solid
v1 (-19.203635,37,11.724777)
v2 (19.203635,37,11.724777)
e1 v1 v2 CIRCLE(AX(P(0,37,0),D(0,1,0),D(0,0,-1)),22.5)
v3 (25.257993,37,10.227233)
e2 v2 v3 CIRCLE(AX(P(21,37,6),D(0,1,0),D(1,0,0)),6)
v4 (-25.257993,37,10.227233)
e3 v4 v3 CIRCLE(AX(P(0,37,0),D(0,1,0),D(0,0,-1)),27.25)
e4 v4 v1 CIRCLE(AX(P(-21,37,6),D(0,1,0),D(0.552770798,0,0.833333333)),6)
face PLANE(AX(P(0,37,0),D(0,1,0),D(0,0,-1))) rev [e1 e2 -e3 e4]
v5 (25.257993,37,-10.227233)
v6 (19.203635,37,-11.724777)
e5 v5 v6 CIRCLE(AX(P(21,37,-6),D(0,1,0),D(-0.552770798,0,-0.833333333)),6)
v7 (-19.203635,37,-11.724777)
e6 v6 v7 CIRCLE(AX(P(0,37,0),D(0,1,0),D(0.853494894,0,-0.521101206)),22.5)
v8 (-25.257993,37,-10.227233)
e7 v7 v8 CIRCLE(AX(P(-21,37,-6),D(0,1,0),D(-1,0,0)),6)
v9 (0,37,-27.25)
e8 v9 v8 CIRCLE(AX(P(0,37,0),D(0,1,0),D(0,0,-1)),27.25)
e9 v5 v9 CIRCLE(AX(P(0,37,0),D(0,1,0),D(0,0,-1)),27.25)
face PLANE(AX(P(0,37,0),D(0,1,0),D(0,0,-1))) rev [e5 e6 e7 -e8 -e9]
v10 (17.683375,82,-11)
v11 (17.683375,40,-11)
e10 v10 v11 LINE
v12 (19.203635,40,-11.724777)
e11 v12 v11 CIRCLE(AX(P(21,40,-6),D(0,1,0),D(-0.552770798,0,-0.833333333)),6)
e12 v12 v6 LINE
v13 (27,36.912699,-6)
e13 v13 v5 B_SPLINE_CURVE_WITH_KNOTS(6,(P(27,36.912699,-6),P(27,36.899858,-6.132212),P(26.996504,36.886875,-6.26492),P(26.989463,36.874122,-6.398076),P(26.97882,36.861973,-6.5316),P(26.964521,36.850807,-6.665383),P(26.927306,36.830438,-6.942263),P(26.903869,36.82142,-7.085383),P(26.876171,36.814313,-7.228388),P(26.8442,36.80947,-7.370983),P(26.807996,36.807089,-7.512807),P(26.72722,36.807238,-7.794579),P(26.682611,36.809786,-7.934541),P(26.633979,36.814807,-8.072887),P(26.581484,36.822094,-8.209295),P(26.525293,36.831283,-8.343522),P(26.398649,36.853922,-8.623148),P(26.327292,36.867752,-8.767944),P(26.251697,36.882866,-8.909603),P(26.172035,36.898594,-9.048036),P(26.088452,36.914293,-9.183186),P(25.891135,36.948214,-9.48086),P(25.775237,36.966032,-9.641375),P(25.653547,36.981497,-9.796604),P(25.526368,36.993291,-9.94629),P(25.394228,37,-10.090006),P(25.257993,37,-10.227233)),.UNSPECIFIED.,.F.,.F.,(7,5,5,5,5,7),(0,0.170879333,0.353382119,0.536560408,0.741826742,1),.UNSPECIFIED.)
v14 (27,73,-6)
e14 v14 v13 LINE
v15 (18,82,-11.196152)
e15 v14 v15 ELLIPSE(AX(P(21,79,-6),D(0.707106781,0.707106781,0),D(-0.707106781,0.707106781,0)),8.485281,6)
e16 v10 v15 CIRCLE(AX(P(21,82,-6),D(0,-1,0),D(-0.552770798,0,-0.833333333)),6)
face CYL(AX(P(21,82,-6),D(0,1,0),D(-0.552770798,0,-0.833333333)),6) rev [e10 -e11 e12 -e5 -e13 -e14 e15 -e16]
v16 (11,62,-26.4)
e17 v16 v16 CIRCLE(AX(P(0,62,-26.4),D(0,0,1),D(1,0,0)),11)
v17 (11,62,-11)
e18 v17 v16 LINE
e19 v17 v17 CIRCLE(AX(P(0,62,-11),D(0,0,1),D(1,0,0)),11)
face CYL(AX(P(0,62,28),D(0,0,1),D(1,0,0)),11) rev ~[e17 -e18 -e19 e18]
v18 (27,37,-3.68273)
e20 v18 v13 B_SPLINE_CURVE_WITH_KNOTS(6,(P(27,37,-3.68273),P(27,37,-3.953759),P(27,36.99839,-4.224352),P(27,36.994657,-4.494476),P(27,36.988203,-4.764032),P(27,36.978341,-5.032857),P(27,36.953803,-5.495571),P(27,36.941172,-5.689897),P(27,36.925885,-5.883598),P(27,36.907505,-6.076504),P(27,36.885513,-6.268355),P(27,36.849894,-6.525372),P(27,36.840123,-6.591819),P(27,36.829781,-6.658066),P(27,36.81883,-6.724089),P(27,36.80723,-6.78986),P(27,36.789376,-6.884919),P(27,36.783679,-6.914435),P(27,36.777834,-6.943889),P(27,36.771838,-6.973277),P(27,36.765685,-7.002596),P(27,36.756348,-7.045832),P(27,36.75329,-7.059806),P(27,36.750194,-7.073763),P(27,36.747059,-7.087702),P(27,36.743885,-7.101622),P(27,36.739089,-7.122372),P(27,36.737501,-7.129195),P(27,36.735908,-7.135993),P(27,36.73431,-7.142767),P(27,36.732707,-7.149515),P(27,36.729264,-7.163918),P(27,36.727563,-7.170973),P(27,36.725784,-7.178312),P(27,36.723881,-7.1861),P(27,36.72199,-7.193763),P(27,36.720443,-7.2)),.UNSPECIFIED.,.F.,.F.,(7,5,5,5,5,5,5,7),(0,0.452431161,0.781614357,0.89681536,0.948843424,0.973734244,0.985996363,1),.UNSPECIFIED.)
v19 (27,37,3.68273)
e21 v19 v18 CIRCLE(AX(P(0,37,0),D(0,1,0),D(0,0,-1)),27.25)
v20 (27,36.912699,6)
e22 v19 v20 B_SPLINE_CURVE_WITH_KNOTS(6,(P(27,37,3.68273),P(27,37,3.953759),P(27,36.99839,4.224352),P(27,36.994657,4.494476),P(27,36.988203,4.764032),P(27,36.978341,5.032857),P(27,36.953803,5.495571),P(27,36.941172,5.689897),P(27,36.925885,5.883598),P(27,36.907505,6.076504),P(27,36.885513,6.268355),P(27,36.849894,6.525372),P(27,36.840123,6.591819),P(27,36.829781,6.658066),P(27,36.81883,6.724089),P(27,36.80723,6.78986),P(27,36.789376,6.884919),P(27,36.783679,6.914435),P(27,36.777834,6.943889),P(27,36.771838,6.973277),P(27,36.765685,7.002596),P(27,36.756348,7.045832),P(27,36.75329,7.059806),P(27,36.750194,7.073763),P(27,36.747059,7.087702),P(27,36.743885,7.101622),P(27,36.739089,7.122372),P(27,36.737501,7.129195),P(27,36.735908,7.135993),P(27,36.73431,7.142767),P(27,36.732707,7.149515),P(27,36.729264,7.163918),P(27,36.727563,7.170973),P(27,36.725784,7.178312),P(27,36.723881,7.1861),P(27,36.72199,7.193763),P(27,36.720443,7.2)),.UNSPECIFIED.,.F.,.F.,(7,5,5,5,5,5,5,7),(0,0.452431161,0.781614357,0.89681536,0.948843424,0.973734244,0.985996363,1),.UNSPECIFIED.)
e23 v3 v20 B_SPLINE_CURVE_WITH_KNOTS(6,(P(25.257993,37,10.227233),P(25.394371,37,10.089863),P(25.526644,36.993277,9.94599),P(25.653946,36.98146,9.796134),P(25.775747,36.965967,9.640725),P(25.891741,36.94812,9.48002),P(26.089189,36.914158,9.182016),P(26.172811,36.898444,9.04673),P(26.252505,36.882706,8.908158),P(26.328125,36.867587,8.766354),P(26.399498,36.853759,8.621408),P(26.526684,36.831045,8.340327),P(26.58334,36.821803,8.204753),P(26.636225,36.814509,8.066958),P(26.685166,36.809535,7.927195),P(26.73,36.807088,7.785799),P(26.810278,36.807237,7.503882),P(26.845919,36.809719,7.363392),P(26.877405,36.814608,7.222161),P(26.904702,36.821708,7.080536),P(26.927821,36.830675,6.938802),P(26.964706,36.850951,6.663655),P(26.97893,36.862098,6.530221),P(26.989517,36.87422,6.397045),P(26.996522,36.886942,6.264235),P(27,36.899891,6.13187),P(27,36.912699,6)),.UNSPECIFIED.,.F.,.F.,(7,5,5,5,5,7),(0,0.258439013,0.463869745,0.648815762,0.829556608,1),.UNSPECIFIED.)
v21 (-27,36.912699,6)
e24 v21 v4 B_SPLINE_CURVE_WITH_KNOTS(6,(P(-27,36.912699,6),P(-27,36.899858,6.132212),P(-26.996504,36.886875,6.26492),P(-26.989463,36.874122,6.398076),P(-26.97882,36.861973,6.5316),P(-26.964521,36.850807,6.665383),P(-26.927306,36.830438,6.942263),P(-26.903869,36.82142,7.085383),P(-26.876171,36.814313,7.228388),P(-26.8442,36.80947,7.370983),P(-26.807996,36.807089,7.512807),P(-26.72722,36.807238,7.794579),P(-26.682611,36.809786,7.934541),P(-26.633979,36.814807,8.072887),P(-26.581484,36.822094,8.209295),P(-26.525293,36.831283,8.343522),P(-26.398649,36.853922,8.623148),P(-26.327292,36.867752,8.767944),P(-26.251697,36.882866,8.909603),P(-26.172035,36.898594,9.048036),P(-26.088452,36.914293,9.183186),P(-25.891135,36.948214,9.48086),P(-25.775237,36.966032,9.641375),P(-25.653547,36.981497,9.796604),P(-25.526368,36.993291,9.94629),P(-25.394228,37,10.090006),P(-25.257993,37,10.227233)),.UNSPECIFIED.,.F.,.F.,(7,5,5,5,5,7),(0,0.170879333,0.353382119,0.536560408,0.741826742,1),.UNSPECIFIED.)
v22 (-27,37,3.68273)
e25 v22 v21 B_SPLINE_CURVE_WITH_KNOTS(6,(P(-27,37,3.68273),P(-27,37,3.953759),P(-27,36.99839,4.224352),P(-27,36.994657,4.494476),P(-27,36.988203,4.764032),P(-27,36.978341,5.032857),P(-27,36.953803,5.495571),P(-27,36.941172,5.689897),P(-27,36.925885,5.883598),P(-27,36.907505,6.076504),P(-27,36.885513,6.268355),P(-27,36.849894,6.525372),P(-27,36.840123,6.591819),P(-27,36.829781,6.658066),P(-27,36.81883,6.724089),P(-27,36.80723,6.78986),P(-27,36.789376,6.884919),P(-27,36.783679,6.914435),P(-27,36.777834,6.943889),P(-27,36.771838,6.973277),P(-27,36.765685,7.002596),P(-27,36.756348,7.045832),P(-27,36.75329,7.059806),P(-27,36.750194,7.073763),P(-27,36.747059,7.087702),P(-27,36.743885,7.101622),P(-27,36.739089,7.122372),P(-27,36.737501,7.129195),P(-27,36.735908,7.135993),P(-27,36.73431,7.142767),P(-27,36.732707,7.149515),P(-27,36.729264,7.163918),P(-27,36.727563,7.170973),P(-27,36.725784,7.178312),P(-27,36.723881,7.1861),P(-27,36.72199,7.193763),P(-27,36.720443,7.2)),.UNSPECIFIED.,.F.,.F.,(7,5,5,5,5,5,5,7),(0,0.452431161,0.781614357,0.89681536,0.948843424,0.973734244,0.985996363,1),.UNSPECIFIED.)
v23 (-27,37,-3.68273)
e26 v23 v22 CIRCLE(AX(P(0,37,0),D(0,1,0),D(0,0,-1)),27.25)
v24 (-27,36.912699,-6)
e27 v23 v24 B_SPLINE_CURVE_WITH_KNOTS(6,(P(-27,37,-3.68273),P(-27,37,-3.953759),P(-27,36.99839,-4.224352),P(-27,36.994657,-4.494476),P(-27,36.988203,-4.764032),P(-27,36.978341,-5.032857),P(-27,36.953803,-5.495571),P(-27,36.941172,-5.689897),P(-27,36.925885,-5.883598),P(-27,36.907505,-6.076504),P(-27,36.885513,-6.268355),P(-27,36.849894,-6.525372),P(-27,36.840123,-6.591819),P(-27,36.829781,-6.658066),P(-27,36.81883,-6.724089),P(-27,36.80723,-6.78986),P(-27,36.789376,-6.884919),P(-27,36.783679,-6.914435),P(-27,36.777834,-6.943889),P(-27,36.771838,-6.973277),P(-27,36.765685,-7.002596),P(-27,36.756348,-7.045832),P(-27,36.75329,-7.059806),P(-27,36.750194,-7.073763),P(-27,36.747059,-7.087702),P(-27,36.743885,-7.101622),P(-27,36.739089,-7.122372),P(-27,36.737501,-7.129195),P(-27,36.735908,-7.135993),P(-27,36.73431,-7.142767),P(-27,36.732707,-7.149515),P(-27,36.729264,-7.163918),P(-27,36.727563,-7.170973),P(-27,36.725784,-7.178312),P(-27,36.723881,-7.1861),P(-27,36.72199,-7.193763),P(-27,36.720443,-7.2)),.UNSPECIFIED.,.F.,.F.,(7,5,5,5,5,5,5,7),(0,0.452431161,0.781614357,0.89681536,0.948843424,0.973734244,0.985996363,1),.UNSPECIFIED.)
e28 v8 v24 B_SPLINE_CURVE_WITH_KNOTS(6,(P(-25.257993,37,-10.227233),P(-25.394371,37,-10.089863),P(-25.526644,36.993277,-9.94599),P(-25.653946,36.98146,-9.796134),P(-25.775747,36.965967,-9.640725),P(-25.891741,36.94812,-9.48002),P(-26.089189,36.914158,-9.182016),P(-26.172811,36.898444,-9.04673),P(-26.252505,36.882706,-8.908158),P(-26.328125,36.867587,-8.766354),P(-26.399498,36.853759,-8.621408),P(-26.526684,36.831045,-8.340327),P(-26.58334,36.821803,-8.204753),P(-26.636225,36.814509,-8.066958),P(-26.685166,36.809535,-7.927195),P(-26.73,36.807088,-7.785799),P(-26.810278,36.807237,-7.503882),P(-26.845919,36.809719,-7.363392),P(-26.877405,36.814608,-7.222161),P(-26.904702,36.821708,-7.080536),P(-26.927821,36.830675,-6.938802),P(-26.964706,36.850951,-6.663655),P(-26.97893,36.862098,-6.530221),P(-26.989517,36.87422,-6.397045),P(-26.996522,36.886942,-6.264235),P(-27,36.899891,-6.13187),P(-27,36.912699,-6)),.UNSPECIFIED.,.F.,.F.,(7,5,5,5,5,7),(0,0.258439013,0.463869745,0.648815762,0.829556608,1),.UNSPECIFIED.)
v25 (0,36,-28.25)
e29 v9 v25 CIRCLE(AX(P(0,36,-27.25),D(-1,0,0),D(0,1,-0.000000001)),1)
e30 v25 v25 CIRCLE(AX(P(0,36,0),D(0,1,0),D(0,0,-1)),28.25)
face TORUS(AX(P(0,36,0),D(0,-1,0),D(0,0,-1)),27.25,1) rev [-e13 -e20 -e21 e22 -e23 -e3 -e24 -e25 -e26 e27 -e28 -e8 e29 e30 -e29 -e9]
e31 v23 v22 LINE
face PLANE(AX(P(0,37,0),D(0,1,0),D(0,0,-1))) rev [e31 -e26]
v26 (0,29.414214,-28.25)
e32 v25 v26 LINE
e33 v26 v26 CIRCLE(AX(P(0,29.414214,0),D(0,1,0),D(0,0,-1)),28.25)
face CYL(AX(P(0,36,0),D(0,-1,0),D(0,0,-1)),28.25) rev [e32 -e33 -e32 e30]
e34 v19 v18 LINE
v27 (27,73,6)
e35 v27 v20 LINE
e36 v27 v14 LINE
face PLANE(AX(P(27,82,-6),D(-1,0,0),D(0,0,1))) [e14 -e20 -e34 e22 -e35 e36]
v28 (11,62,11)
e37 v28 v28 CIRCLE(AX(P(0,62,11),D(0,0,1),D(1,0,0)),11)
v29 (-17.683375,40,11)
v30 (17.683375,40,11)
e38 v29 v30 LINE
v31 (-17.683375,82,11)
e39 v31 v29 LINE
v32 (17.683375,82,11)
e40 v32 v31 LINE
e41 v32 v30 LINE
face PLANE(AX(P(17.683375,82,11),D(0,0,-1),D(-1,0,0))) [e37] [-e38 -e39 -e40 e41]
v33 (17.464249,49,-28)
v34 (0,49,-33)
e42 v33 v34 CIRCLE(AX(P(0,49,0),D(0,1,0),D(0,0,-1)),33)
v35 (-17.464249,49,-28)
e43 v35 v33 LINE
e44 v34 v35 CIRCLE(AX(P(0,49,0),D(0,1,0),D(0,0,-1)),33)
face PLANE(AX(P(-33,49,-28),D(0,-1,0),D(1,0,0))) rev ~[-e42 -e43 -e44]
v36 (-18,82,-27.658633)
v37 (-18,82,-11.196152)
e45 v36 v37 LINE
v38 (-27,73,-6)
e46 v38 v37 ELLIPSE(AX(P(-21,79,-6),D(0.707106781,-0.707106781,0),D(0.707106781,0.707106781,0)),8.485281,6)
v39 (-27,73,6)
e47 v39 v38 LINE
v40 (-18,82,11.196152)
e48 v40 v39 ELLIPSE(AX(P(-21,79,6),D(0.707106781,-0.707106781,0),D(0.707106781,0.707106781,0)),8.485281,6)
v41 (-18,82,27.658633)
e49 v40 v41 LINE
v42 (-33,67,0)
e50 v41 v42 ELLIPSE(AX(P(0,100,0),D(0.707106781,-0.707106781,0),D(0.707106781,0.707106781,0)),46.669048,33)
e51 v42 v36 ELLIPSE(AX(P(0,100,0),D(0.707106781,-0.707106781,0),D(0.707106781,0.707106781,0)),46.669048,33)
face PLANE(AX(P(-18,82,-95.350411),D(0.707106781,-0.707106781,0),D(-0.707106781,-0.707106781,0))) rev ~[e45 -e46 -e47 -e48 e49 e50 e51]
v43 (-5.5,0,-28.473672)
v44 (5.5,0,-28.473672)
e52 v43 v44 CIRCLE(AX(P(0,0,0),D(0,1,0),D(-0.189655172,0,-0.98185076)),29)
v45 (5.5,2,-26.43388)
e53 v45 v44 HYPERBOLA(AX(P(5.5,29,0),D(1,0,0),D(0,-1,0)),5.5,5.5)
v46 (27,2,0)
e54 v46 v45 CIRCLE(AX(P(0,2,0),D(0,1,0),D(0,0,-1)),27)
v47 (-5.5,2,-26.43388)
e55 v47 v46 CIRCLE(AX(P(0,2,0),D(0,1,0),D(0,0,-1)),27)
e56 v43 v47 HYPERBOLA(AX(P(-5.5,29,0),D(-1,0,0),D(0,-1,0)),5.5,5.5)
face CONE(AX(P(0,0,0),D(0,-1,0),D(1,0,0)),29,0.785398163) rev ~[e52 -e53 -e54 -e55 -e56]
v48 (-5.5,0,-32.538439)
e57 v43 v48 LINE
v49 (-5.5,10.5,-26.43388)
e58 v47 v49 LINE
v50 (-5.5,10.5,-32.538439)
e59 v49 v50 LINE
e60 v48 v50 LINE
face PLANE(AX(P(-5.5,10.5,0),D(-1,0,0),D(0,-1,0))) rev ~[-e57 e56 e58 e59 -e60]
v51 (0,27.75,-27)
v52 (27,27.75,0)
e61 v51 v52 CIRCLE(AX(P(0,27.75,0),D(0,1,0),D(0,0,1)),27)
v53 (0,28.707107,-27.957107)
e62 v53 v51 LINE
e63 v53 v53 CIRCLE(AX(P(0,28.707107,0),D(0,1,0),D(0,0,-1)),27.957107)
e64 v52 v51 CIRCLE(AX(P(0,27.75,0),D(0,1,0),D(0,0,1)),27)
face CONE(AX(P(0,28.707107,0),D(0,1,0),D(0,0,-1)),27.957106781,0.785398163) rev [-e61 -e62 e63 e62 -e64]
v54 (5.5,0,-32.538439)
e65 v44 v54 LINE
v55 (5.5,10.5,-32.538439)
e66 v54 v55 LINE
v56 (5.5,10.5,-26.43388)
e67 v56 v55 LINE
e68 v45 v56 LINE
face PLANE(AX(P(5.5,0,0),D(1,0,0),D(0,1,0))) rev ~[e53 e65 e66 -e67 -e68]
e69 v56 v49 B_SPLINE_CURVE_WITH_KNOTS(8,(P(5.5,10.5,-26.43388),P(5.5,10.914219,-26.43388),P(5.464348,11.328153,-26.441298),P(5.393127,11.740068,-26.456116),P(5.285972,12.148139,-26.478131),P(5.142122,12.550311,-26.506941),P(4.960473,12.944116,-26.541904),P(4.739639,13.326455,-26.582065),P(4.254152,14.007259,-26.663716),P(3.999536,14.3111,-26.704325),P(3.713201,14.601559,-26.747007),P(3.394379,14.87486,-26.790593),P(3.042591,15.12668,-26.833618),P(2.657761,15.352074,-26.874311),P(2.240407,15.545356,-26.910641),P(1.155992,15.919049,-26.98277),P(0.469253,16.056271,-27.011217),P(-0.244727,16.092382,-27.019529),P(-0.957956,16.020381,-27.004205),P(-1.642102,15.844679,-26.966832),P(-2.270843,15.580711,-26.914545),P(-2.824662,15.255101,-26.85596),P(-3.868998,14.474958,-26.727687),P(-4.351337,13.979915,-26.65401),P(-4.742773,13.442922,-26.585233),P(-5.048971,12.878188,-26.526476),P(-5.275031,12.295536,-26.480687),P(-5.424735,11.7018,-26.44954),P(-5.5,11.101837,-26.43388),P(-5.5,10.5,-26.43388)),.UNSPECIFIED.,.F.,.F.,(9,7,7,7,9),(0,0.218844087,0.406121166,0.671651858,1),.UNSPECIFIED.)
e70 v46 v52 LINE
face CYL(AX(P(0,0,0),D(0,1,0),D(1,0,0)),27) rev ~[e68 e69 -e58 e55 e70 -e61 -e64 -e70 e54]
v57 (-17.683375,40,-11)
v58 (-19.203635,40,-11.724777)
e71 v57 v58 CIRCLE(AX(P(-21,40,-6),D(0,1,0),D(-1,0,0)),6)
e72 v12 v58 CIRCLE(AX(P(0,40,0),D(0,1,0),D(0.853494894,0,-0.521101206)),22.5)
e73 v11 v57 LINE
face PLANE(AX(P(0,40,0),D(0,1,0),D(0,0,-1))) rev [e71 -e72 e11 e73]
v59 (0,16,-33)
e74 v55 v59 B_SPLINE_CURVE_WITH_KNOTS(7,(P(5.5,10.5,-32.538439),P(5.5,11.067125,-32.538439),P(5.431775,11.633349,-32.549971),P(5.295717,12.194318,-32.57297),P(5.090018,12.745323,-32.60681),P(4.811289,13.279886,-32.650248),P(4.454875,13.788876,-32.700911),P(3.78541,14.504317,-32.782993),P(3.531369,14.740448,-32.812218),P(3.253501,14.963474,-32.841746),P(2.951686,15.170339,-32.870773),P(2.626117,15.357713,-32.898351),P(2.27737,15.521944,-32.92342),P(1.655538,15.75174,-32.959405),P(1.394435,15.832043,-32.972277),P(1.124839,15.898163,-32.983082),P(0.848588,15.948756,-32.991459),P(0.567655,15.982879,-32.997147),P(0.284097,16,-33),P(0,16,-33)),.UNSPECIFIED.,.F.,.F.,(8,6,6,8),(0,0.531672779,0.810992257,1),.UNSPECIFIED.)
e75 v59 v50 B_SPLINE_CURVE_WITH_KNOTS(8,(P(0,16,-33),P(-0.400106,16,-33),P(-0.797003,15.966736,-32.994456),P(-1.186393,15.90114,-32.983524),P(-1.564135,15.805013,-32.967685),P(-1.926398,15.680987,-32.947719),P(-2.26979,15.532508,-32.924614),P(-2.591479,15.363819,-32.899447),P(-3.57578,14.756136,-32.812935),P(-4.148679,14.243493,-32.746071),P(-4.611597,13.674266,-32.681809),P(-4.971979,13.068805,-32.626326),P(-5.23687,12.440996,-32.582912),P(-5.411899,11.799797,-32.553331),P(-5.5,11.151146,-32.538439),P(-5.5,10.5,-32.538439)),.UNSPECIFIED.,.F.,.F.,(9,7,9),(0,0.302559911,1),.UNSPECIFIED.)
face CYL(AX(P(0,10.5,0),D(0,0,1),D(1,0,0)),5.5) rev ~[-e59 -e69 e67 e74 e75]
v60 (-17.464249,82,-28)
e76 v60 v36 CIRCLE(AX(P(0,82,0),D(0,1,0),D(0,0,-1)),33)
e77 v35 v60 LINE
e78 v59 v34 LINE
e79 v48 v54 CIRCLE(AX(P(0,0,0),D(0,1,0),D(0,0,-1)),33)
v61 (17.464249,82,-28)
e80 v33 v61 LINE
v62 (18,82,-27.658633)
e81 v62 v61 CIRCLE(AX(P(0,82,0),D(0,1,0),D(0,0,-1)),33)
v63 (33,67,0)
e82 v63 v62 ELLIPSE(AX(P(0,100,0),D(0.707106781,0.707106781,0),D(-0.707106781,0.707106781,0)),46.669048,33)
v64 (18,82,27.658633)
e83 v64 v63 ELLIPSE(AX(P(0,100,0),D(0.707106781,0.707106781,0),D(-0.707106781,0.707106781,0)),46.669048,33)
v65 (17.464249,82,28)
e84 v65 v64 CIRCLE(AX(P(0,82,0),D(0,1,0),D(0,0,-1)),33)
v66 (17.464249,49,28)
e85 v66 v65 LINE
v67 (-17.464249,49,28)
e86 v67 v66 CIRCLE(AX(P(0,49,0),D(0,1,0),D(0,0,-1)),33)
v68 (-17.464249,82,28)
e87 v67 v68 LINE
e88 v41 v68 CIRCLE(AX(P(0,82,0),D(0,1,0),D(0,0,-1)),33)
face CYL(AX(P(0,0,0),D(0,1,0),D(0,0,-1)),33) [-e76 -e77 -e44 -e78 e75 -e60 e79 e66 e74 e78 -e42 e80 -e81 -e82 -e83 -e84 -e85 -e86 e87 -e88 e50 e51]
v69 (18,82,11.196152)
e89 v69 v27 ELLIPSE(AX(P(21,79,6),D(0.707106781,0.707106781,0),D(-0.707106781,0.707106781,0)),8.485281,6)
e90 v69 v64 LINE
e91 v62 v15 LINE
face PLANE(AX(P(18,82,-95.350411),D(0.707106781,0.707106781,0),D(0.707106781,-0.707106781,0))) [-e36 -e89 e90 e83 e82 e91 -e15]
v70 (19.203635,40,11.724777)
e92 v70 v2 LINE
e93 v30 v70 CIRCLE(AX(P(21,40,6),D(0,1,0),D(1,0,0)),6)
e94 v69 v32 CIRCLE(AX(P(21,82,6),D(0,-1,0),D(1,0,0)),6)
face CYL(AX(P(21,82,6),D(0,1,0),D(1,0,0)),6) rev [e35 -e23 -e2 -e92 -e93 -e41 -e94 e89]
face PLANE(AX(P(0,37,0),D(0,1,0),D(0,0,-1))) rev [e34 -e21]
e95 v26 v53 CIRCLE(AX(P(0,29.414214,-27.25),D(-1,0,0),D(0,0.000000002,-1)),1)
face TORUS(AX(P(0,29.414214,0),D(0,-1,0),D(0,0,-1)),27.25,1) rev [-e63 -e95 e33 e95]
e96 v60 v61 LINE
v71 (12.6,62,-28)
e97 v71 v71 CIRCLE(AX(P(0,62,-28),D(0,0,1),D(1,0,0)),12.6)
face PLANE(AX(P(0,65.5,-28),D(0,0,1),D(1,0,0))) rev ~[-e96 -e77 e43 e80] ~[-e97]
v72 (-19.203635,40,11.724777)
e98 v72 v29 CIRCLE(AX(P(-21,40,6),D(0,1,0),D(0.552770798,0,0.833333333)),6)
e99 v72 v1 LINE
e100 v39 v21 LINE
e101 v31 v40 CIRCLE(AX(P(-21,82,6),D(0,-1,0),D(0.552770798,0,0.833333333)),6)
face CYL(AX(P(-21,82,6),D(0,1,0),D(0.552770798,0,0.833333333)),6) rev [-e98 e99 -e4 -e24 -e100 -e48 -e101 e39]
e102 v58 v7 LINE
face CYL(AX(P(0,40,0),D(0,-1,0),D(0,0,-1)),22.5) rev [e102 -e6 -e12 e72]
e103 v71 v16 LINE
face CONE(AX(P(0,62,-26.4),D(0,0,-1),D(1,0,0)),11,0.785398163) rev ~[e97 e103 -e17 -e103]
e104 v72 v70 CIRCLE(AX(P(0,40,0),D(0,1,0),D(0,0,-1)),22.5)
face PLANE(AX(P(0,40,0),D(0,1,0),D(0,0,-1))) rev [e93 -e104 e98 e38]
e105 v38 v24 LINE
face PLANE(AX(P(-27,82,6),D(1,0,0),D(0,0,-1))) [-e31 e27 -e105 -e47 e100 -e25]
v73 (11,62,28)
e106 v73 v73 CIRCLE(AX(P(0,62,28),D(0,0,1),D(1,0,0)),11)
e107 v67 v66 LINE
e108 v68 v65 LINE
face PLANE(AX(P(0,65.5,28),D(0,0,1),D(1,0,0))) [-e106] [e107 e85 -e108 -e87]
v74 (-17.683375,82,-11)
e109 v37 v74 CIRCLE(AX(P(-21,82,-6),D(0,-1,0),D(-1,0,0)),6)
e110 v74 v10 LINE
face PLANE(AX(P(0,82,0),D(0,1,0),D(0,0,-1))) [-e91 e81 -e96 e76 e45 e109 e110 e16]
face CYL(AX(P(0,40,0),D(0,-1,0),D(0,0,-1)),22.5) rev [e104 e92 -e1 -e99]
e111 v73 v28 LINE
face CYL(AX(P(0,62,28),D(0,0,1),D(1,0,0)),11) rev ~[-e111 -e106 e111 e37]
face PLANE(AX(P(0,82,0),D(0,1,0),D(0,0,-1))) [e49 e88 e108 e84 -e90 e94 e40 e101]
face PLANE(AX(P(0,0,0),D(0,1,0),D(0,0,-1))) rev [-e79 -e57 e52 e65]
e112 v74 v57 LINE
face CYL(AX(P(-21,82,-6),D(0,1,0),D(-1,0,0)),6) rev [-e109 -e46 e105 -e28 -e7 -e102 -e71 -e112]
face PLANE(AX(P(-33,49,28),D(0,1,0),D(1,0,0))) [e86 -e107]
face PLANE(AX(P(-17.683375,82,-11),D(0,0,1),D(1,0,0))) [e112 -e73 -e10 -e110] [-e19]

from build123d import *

# Parameters (mm, degrees)
HOLE_WIZARD_M561_D           = 54
HOLE_WIZARD_M561_DEPTH       = 30
HOLE_WIZARD_M561_CSINK_D     = 58
HOLE_WIZARD_M561_CSINK_ANGLE = 90
CUT_EXTRUDE_START            = 28
SKETCH_4_W                   = 66
SKETCH_4_H                   = 33
CUT_EXTRUDE_1_DEPTH          = 67.350410704
CUT_EXTRUDE_START_2          = -28
SKETCH_4_2_W                 = 66
SKETCH_4_2_H                 = 33
CUT_EXTRUDE_2_DEPTH          = 67.350410704
SKETCH_5_R                   = 11
CUT_EXTRUDE_3_DEPTH          = 108.396461767
CUT_EXTRUDE_5_DEPTH          = 50
CUT_EXTRUDE_6_DEPTH          = 95.350410791
CUT_EXTRUDE_6_DEPTH_BACK     = 95.350410791
CHAMFER_1_SIZE               = 1.6
CUT_EXTRUDE_8_DEPTH          = 95.350410791


with BuildPart() as part:
    # Эскиз1 → Повернуть1 (revolve)
    with BuildSketch(Plane.XY):
        with BuildLine():
            Line((-33, 0), (-33, 82))
            Line((-33, 82), (0, 82))
            Line((0, 82), (0, 40))
            Line((0, 40), (-22.5, 40))
            Line((-22.5, 40), (-22.5, 37))
            Line((-22.5, 37), (-27.25, 37))
            ThreePointArc((-27.25, 37), (-27.957106781, 36.707106781), (-28.25, 36))
            Line((-28.25, 36), (-28.25, 29.414213562))
            ThreePointArc((-28.25, 29.414213562), (-28.173879533, 29.03153013), (-27.957106781, 28.707106781))
            Line((-27.957106781, 28.707106781), (0, 0.75))
            Line((0, 0.75), (0, 0))
            Line((0, 0), (-33, 0))
        make_face()
    revolve(axis=Axis((0, 0, 0), (0, 1, 0)))

    # Отверстие обработанное метчиком M561
    with Locations(Plane(origin=(0, 0, 0), x_dir=(-1, 0, 0), z_dir=(0, -1, 0))):
        with Locations((0, 0)):
            CounterSinkHole(HOLE_WIZARD_M561_D / 2, HOLE_WIZARD_M561_CSINK_D / 2, depth=HOLE_WIZARD_M561_DEPTH, counter_sink_angle=HOLE_WIZARD_M561_CSINK_ANGLE)

    # Эскиз4 → Вырез-Вытянуть1 (cut, through all)
    with BuildSketch(Plane.XY.offset(CUT_EXTRUDE_START)):
        with Locations((0, 65.5)):
            Rectangle(SKETCH_4_W, SKETCH_4_H)
    extrude(amount=CUT_EXTRUDE_1_DEPTH, mode=Mode.SUBTRACT)

    # Эскиз4<2> → Вырез-Вытянуть2 (cut, through all)
    with BuildSketch(Plane.XY.offset(CUT_EXTRUDE_START_2)):
        with Locations((0, 65.5)):
            Rectangle(SKETCH_4_2_W, SKETCH_4_2_H)
    extrude(amount=-CUT_EXTRUDE_2_DEPTH, mode=Mode.SUBTRACT)

    # Эскиз5 → Вырез-Вытянуть3 (cut, through all)
    with BuildSketch(Plane.XY.offset(28)):
        with Locations((0, 62)):
            Circle(SKETCH_5_R)
    extrude(amount=-CUT_EXTRUDE_3_DEPTH, mode=Mode.SUBTRACT)

    # Эскиз6 → Вырез-Вытянуть5 (cut)
    with BuildSketch(Plane(origin=(0, 82, 0), x_dir=(1, 0, 0), z_dir=(0, 1, 0))):
        with BuildLine():
            Line((17.68337521, -11), (-17.68337521, -11))
            ThreePointArc((-17.68337521, -11), (-23.837274331, -11.286764074), (-27, -6))
            Line((-27, -6), (-27, 6))
            ThreePointArc((-27, 6), (-23.837274331, 11.286764074), (-17.68337521, 11))
            Line((-17.68337521, 11), (17.68337521, 11))
            ThreePointArc((17.68337521, 11), (23.837274331, 11.286764074), (27, 6))
            Line((27, 6), (27, -6))
            ThreePointArc((27, -6), (23.837274331, -11.286764074), (17.68337521, -11))
        make_face()
    extrude(amount=-CUT_EXTRUDE_5_DEPTH, mode=Mode.SUBTRACT)

    # Эскиз7 → Вырез-Вытянуть6 (cut, two sides: drawn at the far end of the back side and taken through both)
    with BuildSketch(Plane.XY.offset(-CUT_EXTRUDE_6_DEPTH_BACK)):
        Polygon((-33, 82), (-18, 82), (-33, 67), align=None)
        Polygon((33, 67), (33, 82), (18, 82), align=None)
    extrude(amount=CUT_EXTRUDE_6_DEPTH + CUT_EXTRUDE_6_DEPTH_BACK, mode=Mode.SUBTRACT)

    # Фаска1
    chamfer_1_edges = [part.edges().sort_by_distance(p)[0] for p in [
        (-11, 62, -28),
    ]]
    chamfer(chamfer_1_edges, length=CHAMFER_1_SIZE)

    # Эскиз10 → Вырез-Вытянуть8 (cut, through all)
    with BuildSketch(Plane.XY):
        with BuildLine():
            Line((-5.5, 0), (5.5, 0))
            Line((5.5, 0), (5.5, 10.5))
            ThreePointArc((5.5, 10.5), (0, 16), (-5.5, 10.5))
            Line((-5.5, 10.5), (-5.5, 0))
        make_face()
    extrude(amount=-CUT_EXTRUDE_8_DEPTH, mode=Mode.SUBTRACT)


solid = part.part
